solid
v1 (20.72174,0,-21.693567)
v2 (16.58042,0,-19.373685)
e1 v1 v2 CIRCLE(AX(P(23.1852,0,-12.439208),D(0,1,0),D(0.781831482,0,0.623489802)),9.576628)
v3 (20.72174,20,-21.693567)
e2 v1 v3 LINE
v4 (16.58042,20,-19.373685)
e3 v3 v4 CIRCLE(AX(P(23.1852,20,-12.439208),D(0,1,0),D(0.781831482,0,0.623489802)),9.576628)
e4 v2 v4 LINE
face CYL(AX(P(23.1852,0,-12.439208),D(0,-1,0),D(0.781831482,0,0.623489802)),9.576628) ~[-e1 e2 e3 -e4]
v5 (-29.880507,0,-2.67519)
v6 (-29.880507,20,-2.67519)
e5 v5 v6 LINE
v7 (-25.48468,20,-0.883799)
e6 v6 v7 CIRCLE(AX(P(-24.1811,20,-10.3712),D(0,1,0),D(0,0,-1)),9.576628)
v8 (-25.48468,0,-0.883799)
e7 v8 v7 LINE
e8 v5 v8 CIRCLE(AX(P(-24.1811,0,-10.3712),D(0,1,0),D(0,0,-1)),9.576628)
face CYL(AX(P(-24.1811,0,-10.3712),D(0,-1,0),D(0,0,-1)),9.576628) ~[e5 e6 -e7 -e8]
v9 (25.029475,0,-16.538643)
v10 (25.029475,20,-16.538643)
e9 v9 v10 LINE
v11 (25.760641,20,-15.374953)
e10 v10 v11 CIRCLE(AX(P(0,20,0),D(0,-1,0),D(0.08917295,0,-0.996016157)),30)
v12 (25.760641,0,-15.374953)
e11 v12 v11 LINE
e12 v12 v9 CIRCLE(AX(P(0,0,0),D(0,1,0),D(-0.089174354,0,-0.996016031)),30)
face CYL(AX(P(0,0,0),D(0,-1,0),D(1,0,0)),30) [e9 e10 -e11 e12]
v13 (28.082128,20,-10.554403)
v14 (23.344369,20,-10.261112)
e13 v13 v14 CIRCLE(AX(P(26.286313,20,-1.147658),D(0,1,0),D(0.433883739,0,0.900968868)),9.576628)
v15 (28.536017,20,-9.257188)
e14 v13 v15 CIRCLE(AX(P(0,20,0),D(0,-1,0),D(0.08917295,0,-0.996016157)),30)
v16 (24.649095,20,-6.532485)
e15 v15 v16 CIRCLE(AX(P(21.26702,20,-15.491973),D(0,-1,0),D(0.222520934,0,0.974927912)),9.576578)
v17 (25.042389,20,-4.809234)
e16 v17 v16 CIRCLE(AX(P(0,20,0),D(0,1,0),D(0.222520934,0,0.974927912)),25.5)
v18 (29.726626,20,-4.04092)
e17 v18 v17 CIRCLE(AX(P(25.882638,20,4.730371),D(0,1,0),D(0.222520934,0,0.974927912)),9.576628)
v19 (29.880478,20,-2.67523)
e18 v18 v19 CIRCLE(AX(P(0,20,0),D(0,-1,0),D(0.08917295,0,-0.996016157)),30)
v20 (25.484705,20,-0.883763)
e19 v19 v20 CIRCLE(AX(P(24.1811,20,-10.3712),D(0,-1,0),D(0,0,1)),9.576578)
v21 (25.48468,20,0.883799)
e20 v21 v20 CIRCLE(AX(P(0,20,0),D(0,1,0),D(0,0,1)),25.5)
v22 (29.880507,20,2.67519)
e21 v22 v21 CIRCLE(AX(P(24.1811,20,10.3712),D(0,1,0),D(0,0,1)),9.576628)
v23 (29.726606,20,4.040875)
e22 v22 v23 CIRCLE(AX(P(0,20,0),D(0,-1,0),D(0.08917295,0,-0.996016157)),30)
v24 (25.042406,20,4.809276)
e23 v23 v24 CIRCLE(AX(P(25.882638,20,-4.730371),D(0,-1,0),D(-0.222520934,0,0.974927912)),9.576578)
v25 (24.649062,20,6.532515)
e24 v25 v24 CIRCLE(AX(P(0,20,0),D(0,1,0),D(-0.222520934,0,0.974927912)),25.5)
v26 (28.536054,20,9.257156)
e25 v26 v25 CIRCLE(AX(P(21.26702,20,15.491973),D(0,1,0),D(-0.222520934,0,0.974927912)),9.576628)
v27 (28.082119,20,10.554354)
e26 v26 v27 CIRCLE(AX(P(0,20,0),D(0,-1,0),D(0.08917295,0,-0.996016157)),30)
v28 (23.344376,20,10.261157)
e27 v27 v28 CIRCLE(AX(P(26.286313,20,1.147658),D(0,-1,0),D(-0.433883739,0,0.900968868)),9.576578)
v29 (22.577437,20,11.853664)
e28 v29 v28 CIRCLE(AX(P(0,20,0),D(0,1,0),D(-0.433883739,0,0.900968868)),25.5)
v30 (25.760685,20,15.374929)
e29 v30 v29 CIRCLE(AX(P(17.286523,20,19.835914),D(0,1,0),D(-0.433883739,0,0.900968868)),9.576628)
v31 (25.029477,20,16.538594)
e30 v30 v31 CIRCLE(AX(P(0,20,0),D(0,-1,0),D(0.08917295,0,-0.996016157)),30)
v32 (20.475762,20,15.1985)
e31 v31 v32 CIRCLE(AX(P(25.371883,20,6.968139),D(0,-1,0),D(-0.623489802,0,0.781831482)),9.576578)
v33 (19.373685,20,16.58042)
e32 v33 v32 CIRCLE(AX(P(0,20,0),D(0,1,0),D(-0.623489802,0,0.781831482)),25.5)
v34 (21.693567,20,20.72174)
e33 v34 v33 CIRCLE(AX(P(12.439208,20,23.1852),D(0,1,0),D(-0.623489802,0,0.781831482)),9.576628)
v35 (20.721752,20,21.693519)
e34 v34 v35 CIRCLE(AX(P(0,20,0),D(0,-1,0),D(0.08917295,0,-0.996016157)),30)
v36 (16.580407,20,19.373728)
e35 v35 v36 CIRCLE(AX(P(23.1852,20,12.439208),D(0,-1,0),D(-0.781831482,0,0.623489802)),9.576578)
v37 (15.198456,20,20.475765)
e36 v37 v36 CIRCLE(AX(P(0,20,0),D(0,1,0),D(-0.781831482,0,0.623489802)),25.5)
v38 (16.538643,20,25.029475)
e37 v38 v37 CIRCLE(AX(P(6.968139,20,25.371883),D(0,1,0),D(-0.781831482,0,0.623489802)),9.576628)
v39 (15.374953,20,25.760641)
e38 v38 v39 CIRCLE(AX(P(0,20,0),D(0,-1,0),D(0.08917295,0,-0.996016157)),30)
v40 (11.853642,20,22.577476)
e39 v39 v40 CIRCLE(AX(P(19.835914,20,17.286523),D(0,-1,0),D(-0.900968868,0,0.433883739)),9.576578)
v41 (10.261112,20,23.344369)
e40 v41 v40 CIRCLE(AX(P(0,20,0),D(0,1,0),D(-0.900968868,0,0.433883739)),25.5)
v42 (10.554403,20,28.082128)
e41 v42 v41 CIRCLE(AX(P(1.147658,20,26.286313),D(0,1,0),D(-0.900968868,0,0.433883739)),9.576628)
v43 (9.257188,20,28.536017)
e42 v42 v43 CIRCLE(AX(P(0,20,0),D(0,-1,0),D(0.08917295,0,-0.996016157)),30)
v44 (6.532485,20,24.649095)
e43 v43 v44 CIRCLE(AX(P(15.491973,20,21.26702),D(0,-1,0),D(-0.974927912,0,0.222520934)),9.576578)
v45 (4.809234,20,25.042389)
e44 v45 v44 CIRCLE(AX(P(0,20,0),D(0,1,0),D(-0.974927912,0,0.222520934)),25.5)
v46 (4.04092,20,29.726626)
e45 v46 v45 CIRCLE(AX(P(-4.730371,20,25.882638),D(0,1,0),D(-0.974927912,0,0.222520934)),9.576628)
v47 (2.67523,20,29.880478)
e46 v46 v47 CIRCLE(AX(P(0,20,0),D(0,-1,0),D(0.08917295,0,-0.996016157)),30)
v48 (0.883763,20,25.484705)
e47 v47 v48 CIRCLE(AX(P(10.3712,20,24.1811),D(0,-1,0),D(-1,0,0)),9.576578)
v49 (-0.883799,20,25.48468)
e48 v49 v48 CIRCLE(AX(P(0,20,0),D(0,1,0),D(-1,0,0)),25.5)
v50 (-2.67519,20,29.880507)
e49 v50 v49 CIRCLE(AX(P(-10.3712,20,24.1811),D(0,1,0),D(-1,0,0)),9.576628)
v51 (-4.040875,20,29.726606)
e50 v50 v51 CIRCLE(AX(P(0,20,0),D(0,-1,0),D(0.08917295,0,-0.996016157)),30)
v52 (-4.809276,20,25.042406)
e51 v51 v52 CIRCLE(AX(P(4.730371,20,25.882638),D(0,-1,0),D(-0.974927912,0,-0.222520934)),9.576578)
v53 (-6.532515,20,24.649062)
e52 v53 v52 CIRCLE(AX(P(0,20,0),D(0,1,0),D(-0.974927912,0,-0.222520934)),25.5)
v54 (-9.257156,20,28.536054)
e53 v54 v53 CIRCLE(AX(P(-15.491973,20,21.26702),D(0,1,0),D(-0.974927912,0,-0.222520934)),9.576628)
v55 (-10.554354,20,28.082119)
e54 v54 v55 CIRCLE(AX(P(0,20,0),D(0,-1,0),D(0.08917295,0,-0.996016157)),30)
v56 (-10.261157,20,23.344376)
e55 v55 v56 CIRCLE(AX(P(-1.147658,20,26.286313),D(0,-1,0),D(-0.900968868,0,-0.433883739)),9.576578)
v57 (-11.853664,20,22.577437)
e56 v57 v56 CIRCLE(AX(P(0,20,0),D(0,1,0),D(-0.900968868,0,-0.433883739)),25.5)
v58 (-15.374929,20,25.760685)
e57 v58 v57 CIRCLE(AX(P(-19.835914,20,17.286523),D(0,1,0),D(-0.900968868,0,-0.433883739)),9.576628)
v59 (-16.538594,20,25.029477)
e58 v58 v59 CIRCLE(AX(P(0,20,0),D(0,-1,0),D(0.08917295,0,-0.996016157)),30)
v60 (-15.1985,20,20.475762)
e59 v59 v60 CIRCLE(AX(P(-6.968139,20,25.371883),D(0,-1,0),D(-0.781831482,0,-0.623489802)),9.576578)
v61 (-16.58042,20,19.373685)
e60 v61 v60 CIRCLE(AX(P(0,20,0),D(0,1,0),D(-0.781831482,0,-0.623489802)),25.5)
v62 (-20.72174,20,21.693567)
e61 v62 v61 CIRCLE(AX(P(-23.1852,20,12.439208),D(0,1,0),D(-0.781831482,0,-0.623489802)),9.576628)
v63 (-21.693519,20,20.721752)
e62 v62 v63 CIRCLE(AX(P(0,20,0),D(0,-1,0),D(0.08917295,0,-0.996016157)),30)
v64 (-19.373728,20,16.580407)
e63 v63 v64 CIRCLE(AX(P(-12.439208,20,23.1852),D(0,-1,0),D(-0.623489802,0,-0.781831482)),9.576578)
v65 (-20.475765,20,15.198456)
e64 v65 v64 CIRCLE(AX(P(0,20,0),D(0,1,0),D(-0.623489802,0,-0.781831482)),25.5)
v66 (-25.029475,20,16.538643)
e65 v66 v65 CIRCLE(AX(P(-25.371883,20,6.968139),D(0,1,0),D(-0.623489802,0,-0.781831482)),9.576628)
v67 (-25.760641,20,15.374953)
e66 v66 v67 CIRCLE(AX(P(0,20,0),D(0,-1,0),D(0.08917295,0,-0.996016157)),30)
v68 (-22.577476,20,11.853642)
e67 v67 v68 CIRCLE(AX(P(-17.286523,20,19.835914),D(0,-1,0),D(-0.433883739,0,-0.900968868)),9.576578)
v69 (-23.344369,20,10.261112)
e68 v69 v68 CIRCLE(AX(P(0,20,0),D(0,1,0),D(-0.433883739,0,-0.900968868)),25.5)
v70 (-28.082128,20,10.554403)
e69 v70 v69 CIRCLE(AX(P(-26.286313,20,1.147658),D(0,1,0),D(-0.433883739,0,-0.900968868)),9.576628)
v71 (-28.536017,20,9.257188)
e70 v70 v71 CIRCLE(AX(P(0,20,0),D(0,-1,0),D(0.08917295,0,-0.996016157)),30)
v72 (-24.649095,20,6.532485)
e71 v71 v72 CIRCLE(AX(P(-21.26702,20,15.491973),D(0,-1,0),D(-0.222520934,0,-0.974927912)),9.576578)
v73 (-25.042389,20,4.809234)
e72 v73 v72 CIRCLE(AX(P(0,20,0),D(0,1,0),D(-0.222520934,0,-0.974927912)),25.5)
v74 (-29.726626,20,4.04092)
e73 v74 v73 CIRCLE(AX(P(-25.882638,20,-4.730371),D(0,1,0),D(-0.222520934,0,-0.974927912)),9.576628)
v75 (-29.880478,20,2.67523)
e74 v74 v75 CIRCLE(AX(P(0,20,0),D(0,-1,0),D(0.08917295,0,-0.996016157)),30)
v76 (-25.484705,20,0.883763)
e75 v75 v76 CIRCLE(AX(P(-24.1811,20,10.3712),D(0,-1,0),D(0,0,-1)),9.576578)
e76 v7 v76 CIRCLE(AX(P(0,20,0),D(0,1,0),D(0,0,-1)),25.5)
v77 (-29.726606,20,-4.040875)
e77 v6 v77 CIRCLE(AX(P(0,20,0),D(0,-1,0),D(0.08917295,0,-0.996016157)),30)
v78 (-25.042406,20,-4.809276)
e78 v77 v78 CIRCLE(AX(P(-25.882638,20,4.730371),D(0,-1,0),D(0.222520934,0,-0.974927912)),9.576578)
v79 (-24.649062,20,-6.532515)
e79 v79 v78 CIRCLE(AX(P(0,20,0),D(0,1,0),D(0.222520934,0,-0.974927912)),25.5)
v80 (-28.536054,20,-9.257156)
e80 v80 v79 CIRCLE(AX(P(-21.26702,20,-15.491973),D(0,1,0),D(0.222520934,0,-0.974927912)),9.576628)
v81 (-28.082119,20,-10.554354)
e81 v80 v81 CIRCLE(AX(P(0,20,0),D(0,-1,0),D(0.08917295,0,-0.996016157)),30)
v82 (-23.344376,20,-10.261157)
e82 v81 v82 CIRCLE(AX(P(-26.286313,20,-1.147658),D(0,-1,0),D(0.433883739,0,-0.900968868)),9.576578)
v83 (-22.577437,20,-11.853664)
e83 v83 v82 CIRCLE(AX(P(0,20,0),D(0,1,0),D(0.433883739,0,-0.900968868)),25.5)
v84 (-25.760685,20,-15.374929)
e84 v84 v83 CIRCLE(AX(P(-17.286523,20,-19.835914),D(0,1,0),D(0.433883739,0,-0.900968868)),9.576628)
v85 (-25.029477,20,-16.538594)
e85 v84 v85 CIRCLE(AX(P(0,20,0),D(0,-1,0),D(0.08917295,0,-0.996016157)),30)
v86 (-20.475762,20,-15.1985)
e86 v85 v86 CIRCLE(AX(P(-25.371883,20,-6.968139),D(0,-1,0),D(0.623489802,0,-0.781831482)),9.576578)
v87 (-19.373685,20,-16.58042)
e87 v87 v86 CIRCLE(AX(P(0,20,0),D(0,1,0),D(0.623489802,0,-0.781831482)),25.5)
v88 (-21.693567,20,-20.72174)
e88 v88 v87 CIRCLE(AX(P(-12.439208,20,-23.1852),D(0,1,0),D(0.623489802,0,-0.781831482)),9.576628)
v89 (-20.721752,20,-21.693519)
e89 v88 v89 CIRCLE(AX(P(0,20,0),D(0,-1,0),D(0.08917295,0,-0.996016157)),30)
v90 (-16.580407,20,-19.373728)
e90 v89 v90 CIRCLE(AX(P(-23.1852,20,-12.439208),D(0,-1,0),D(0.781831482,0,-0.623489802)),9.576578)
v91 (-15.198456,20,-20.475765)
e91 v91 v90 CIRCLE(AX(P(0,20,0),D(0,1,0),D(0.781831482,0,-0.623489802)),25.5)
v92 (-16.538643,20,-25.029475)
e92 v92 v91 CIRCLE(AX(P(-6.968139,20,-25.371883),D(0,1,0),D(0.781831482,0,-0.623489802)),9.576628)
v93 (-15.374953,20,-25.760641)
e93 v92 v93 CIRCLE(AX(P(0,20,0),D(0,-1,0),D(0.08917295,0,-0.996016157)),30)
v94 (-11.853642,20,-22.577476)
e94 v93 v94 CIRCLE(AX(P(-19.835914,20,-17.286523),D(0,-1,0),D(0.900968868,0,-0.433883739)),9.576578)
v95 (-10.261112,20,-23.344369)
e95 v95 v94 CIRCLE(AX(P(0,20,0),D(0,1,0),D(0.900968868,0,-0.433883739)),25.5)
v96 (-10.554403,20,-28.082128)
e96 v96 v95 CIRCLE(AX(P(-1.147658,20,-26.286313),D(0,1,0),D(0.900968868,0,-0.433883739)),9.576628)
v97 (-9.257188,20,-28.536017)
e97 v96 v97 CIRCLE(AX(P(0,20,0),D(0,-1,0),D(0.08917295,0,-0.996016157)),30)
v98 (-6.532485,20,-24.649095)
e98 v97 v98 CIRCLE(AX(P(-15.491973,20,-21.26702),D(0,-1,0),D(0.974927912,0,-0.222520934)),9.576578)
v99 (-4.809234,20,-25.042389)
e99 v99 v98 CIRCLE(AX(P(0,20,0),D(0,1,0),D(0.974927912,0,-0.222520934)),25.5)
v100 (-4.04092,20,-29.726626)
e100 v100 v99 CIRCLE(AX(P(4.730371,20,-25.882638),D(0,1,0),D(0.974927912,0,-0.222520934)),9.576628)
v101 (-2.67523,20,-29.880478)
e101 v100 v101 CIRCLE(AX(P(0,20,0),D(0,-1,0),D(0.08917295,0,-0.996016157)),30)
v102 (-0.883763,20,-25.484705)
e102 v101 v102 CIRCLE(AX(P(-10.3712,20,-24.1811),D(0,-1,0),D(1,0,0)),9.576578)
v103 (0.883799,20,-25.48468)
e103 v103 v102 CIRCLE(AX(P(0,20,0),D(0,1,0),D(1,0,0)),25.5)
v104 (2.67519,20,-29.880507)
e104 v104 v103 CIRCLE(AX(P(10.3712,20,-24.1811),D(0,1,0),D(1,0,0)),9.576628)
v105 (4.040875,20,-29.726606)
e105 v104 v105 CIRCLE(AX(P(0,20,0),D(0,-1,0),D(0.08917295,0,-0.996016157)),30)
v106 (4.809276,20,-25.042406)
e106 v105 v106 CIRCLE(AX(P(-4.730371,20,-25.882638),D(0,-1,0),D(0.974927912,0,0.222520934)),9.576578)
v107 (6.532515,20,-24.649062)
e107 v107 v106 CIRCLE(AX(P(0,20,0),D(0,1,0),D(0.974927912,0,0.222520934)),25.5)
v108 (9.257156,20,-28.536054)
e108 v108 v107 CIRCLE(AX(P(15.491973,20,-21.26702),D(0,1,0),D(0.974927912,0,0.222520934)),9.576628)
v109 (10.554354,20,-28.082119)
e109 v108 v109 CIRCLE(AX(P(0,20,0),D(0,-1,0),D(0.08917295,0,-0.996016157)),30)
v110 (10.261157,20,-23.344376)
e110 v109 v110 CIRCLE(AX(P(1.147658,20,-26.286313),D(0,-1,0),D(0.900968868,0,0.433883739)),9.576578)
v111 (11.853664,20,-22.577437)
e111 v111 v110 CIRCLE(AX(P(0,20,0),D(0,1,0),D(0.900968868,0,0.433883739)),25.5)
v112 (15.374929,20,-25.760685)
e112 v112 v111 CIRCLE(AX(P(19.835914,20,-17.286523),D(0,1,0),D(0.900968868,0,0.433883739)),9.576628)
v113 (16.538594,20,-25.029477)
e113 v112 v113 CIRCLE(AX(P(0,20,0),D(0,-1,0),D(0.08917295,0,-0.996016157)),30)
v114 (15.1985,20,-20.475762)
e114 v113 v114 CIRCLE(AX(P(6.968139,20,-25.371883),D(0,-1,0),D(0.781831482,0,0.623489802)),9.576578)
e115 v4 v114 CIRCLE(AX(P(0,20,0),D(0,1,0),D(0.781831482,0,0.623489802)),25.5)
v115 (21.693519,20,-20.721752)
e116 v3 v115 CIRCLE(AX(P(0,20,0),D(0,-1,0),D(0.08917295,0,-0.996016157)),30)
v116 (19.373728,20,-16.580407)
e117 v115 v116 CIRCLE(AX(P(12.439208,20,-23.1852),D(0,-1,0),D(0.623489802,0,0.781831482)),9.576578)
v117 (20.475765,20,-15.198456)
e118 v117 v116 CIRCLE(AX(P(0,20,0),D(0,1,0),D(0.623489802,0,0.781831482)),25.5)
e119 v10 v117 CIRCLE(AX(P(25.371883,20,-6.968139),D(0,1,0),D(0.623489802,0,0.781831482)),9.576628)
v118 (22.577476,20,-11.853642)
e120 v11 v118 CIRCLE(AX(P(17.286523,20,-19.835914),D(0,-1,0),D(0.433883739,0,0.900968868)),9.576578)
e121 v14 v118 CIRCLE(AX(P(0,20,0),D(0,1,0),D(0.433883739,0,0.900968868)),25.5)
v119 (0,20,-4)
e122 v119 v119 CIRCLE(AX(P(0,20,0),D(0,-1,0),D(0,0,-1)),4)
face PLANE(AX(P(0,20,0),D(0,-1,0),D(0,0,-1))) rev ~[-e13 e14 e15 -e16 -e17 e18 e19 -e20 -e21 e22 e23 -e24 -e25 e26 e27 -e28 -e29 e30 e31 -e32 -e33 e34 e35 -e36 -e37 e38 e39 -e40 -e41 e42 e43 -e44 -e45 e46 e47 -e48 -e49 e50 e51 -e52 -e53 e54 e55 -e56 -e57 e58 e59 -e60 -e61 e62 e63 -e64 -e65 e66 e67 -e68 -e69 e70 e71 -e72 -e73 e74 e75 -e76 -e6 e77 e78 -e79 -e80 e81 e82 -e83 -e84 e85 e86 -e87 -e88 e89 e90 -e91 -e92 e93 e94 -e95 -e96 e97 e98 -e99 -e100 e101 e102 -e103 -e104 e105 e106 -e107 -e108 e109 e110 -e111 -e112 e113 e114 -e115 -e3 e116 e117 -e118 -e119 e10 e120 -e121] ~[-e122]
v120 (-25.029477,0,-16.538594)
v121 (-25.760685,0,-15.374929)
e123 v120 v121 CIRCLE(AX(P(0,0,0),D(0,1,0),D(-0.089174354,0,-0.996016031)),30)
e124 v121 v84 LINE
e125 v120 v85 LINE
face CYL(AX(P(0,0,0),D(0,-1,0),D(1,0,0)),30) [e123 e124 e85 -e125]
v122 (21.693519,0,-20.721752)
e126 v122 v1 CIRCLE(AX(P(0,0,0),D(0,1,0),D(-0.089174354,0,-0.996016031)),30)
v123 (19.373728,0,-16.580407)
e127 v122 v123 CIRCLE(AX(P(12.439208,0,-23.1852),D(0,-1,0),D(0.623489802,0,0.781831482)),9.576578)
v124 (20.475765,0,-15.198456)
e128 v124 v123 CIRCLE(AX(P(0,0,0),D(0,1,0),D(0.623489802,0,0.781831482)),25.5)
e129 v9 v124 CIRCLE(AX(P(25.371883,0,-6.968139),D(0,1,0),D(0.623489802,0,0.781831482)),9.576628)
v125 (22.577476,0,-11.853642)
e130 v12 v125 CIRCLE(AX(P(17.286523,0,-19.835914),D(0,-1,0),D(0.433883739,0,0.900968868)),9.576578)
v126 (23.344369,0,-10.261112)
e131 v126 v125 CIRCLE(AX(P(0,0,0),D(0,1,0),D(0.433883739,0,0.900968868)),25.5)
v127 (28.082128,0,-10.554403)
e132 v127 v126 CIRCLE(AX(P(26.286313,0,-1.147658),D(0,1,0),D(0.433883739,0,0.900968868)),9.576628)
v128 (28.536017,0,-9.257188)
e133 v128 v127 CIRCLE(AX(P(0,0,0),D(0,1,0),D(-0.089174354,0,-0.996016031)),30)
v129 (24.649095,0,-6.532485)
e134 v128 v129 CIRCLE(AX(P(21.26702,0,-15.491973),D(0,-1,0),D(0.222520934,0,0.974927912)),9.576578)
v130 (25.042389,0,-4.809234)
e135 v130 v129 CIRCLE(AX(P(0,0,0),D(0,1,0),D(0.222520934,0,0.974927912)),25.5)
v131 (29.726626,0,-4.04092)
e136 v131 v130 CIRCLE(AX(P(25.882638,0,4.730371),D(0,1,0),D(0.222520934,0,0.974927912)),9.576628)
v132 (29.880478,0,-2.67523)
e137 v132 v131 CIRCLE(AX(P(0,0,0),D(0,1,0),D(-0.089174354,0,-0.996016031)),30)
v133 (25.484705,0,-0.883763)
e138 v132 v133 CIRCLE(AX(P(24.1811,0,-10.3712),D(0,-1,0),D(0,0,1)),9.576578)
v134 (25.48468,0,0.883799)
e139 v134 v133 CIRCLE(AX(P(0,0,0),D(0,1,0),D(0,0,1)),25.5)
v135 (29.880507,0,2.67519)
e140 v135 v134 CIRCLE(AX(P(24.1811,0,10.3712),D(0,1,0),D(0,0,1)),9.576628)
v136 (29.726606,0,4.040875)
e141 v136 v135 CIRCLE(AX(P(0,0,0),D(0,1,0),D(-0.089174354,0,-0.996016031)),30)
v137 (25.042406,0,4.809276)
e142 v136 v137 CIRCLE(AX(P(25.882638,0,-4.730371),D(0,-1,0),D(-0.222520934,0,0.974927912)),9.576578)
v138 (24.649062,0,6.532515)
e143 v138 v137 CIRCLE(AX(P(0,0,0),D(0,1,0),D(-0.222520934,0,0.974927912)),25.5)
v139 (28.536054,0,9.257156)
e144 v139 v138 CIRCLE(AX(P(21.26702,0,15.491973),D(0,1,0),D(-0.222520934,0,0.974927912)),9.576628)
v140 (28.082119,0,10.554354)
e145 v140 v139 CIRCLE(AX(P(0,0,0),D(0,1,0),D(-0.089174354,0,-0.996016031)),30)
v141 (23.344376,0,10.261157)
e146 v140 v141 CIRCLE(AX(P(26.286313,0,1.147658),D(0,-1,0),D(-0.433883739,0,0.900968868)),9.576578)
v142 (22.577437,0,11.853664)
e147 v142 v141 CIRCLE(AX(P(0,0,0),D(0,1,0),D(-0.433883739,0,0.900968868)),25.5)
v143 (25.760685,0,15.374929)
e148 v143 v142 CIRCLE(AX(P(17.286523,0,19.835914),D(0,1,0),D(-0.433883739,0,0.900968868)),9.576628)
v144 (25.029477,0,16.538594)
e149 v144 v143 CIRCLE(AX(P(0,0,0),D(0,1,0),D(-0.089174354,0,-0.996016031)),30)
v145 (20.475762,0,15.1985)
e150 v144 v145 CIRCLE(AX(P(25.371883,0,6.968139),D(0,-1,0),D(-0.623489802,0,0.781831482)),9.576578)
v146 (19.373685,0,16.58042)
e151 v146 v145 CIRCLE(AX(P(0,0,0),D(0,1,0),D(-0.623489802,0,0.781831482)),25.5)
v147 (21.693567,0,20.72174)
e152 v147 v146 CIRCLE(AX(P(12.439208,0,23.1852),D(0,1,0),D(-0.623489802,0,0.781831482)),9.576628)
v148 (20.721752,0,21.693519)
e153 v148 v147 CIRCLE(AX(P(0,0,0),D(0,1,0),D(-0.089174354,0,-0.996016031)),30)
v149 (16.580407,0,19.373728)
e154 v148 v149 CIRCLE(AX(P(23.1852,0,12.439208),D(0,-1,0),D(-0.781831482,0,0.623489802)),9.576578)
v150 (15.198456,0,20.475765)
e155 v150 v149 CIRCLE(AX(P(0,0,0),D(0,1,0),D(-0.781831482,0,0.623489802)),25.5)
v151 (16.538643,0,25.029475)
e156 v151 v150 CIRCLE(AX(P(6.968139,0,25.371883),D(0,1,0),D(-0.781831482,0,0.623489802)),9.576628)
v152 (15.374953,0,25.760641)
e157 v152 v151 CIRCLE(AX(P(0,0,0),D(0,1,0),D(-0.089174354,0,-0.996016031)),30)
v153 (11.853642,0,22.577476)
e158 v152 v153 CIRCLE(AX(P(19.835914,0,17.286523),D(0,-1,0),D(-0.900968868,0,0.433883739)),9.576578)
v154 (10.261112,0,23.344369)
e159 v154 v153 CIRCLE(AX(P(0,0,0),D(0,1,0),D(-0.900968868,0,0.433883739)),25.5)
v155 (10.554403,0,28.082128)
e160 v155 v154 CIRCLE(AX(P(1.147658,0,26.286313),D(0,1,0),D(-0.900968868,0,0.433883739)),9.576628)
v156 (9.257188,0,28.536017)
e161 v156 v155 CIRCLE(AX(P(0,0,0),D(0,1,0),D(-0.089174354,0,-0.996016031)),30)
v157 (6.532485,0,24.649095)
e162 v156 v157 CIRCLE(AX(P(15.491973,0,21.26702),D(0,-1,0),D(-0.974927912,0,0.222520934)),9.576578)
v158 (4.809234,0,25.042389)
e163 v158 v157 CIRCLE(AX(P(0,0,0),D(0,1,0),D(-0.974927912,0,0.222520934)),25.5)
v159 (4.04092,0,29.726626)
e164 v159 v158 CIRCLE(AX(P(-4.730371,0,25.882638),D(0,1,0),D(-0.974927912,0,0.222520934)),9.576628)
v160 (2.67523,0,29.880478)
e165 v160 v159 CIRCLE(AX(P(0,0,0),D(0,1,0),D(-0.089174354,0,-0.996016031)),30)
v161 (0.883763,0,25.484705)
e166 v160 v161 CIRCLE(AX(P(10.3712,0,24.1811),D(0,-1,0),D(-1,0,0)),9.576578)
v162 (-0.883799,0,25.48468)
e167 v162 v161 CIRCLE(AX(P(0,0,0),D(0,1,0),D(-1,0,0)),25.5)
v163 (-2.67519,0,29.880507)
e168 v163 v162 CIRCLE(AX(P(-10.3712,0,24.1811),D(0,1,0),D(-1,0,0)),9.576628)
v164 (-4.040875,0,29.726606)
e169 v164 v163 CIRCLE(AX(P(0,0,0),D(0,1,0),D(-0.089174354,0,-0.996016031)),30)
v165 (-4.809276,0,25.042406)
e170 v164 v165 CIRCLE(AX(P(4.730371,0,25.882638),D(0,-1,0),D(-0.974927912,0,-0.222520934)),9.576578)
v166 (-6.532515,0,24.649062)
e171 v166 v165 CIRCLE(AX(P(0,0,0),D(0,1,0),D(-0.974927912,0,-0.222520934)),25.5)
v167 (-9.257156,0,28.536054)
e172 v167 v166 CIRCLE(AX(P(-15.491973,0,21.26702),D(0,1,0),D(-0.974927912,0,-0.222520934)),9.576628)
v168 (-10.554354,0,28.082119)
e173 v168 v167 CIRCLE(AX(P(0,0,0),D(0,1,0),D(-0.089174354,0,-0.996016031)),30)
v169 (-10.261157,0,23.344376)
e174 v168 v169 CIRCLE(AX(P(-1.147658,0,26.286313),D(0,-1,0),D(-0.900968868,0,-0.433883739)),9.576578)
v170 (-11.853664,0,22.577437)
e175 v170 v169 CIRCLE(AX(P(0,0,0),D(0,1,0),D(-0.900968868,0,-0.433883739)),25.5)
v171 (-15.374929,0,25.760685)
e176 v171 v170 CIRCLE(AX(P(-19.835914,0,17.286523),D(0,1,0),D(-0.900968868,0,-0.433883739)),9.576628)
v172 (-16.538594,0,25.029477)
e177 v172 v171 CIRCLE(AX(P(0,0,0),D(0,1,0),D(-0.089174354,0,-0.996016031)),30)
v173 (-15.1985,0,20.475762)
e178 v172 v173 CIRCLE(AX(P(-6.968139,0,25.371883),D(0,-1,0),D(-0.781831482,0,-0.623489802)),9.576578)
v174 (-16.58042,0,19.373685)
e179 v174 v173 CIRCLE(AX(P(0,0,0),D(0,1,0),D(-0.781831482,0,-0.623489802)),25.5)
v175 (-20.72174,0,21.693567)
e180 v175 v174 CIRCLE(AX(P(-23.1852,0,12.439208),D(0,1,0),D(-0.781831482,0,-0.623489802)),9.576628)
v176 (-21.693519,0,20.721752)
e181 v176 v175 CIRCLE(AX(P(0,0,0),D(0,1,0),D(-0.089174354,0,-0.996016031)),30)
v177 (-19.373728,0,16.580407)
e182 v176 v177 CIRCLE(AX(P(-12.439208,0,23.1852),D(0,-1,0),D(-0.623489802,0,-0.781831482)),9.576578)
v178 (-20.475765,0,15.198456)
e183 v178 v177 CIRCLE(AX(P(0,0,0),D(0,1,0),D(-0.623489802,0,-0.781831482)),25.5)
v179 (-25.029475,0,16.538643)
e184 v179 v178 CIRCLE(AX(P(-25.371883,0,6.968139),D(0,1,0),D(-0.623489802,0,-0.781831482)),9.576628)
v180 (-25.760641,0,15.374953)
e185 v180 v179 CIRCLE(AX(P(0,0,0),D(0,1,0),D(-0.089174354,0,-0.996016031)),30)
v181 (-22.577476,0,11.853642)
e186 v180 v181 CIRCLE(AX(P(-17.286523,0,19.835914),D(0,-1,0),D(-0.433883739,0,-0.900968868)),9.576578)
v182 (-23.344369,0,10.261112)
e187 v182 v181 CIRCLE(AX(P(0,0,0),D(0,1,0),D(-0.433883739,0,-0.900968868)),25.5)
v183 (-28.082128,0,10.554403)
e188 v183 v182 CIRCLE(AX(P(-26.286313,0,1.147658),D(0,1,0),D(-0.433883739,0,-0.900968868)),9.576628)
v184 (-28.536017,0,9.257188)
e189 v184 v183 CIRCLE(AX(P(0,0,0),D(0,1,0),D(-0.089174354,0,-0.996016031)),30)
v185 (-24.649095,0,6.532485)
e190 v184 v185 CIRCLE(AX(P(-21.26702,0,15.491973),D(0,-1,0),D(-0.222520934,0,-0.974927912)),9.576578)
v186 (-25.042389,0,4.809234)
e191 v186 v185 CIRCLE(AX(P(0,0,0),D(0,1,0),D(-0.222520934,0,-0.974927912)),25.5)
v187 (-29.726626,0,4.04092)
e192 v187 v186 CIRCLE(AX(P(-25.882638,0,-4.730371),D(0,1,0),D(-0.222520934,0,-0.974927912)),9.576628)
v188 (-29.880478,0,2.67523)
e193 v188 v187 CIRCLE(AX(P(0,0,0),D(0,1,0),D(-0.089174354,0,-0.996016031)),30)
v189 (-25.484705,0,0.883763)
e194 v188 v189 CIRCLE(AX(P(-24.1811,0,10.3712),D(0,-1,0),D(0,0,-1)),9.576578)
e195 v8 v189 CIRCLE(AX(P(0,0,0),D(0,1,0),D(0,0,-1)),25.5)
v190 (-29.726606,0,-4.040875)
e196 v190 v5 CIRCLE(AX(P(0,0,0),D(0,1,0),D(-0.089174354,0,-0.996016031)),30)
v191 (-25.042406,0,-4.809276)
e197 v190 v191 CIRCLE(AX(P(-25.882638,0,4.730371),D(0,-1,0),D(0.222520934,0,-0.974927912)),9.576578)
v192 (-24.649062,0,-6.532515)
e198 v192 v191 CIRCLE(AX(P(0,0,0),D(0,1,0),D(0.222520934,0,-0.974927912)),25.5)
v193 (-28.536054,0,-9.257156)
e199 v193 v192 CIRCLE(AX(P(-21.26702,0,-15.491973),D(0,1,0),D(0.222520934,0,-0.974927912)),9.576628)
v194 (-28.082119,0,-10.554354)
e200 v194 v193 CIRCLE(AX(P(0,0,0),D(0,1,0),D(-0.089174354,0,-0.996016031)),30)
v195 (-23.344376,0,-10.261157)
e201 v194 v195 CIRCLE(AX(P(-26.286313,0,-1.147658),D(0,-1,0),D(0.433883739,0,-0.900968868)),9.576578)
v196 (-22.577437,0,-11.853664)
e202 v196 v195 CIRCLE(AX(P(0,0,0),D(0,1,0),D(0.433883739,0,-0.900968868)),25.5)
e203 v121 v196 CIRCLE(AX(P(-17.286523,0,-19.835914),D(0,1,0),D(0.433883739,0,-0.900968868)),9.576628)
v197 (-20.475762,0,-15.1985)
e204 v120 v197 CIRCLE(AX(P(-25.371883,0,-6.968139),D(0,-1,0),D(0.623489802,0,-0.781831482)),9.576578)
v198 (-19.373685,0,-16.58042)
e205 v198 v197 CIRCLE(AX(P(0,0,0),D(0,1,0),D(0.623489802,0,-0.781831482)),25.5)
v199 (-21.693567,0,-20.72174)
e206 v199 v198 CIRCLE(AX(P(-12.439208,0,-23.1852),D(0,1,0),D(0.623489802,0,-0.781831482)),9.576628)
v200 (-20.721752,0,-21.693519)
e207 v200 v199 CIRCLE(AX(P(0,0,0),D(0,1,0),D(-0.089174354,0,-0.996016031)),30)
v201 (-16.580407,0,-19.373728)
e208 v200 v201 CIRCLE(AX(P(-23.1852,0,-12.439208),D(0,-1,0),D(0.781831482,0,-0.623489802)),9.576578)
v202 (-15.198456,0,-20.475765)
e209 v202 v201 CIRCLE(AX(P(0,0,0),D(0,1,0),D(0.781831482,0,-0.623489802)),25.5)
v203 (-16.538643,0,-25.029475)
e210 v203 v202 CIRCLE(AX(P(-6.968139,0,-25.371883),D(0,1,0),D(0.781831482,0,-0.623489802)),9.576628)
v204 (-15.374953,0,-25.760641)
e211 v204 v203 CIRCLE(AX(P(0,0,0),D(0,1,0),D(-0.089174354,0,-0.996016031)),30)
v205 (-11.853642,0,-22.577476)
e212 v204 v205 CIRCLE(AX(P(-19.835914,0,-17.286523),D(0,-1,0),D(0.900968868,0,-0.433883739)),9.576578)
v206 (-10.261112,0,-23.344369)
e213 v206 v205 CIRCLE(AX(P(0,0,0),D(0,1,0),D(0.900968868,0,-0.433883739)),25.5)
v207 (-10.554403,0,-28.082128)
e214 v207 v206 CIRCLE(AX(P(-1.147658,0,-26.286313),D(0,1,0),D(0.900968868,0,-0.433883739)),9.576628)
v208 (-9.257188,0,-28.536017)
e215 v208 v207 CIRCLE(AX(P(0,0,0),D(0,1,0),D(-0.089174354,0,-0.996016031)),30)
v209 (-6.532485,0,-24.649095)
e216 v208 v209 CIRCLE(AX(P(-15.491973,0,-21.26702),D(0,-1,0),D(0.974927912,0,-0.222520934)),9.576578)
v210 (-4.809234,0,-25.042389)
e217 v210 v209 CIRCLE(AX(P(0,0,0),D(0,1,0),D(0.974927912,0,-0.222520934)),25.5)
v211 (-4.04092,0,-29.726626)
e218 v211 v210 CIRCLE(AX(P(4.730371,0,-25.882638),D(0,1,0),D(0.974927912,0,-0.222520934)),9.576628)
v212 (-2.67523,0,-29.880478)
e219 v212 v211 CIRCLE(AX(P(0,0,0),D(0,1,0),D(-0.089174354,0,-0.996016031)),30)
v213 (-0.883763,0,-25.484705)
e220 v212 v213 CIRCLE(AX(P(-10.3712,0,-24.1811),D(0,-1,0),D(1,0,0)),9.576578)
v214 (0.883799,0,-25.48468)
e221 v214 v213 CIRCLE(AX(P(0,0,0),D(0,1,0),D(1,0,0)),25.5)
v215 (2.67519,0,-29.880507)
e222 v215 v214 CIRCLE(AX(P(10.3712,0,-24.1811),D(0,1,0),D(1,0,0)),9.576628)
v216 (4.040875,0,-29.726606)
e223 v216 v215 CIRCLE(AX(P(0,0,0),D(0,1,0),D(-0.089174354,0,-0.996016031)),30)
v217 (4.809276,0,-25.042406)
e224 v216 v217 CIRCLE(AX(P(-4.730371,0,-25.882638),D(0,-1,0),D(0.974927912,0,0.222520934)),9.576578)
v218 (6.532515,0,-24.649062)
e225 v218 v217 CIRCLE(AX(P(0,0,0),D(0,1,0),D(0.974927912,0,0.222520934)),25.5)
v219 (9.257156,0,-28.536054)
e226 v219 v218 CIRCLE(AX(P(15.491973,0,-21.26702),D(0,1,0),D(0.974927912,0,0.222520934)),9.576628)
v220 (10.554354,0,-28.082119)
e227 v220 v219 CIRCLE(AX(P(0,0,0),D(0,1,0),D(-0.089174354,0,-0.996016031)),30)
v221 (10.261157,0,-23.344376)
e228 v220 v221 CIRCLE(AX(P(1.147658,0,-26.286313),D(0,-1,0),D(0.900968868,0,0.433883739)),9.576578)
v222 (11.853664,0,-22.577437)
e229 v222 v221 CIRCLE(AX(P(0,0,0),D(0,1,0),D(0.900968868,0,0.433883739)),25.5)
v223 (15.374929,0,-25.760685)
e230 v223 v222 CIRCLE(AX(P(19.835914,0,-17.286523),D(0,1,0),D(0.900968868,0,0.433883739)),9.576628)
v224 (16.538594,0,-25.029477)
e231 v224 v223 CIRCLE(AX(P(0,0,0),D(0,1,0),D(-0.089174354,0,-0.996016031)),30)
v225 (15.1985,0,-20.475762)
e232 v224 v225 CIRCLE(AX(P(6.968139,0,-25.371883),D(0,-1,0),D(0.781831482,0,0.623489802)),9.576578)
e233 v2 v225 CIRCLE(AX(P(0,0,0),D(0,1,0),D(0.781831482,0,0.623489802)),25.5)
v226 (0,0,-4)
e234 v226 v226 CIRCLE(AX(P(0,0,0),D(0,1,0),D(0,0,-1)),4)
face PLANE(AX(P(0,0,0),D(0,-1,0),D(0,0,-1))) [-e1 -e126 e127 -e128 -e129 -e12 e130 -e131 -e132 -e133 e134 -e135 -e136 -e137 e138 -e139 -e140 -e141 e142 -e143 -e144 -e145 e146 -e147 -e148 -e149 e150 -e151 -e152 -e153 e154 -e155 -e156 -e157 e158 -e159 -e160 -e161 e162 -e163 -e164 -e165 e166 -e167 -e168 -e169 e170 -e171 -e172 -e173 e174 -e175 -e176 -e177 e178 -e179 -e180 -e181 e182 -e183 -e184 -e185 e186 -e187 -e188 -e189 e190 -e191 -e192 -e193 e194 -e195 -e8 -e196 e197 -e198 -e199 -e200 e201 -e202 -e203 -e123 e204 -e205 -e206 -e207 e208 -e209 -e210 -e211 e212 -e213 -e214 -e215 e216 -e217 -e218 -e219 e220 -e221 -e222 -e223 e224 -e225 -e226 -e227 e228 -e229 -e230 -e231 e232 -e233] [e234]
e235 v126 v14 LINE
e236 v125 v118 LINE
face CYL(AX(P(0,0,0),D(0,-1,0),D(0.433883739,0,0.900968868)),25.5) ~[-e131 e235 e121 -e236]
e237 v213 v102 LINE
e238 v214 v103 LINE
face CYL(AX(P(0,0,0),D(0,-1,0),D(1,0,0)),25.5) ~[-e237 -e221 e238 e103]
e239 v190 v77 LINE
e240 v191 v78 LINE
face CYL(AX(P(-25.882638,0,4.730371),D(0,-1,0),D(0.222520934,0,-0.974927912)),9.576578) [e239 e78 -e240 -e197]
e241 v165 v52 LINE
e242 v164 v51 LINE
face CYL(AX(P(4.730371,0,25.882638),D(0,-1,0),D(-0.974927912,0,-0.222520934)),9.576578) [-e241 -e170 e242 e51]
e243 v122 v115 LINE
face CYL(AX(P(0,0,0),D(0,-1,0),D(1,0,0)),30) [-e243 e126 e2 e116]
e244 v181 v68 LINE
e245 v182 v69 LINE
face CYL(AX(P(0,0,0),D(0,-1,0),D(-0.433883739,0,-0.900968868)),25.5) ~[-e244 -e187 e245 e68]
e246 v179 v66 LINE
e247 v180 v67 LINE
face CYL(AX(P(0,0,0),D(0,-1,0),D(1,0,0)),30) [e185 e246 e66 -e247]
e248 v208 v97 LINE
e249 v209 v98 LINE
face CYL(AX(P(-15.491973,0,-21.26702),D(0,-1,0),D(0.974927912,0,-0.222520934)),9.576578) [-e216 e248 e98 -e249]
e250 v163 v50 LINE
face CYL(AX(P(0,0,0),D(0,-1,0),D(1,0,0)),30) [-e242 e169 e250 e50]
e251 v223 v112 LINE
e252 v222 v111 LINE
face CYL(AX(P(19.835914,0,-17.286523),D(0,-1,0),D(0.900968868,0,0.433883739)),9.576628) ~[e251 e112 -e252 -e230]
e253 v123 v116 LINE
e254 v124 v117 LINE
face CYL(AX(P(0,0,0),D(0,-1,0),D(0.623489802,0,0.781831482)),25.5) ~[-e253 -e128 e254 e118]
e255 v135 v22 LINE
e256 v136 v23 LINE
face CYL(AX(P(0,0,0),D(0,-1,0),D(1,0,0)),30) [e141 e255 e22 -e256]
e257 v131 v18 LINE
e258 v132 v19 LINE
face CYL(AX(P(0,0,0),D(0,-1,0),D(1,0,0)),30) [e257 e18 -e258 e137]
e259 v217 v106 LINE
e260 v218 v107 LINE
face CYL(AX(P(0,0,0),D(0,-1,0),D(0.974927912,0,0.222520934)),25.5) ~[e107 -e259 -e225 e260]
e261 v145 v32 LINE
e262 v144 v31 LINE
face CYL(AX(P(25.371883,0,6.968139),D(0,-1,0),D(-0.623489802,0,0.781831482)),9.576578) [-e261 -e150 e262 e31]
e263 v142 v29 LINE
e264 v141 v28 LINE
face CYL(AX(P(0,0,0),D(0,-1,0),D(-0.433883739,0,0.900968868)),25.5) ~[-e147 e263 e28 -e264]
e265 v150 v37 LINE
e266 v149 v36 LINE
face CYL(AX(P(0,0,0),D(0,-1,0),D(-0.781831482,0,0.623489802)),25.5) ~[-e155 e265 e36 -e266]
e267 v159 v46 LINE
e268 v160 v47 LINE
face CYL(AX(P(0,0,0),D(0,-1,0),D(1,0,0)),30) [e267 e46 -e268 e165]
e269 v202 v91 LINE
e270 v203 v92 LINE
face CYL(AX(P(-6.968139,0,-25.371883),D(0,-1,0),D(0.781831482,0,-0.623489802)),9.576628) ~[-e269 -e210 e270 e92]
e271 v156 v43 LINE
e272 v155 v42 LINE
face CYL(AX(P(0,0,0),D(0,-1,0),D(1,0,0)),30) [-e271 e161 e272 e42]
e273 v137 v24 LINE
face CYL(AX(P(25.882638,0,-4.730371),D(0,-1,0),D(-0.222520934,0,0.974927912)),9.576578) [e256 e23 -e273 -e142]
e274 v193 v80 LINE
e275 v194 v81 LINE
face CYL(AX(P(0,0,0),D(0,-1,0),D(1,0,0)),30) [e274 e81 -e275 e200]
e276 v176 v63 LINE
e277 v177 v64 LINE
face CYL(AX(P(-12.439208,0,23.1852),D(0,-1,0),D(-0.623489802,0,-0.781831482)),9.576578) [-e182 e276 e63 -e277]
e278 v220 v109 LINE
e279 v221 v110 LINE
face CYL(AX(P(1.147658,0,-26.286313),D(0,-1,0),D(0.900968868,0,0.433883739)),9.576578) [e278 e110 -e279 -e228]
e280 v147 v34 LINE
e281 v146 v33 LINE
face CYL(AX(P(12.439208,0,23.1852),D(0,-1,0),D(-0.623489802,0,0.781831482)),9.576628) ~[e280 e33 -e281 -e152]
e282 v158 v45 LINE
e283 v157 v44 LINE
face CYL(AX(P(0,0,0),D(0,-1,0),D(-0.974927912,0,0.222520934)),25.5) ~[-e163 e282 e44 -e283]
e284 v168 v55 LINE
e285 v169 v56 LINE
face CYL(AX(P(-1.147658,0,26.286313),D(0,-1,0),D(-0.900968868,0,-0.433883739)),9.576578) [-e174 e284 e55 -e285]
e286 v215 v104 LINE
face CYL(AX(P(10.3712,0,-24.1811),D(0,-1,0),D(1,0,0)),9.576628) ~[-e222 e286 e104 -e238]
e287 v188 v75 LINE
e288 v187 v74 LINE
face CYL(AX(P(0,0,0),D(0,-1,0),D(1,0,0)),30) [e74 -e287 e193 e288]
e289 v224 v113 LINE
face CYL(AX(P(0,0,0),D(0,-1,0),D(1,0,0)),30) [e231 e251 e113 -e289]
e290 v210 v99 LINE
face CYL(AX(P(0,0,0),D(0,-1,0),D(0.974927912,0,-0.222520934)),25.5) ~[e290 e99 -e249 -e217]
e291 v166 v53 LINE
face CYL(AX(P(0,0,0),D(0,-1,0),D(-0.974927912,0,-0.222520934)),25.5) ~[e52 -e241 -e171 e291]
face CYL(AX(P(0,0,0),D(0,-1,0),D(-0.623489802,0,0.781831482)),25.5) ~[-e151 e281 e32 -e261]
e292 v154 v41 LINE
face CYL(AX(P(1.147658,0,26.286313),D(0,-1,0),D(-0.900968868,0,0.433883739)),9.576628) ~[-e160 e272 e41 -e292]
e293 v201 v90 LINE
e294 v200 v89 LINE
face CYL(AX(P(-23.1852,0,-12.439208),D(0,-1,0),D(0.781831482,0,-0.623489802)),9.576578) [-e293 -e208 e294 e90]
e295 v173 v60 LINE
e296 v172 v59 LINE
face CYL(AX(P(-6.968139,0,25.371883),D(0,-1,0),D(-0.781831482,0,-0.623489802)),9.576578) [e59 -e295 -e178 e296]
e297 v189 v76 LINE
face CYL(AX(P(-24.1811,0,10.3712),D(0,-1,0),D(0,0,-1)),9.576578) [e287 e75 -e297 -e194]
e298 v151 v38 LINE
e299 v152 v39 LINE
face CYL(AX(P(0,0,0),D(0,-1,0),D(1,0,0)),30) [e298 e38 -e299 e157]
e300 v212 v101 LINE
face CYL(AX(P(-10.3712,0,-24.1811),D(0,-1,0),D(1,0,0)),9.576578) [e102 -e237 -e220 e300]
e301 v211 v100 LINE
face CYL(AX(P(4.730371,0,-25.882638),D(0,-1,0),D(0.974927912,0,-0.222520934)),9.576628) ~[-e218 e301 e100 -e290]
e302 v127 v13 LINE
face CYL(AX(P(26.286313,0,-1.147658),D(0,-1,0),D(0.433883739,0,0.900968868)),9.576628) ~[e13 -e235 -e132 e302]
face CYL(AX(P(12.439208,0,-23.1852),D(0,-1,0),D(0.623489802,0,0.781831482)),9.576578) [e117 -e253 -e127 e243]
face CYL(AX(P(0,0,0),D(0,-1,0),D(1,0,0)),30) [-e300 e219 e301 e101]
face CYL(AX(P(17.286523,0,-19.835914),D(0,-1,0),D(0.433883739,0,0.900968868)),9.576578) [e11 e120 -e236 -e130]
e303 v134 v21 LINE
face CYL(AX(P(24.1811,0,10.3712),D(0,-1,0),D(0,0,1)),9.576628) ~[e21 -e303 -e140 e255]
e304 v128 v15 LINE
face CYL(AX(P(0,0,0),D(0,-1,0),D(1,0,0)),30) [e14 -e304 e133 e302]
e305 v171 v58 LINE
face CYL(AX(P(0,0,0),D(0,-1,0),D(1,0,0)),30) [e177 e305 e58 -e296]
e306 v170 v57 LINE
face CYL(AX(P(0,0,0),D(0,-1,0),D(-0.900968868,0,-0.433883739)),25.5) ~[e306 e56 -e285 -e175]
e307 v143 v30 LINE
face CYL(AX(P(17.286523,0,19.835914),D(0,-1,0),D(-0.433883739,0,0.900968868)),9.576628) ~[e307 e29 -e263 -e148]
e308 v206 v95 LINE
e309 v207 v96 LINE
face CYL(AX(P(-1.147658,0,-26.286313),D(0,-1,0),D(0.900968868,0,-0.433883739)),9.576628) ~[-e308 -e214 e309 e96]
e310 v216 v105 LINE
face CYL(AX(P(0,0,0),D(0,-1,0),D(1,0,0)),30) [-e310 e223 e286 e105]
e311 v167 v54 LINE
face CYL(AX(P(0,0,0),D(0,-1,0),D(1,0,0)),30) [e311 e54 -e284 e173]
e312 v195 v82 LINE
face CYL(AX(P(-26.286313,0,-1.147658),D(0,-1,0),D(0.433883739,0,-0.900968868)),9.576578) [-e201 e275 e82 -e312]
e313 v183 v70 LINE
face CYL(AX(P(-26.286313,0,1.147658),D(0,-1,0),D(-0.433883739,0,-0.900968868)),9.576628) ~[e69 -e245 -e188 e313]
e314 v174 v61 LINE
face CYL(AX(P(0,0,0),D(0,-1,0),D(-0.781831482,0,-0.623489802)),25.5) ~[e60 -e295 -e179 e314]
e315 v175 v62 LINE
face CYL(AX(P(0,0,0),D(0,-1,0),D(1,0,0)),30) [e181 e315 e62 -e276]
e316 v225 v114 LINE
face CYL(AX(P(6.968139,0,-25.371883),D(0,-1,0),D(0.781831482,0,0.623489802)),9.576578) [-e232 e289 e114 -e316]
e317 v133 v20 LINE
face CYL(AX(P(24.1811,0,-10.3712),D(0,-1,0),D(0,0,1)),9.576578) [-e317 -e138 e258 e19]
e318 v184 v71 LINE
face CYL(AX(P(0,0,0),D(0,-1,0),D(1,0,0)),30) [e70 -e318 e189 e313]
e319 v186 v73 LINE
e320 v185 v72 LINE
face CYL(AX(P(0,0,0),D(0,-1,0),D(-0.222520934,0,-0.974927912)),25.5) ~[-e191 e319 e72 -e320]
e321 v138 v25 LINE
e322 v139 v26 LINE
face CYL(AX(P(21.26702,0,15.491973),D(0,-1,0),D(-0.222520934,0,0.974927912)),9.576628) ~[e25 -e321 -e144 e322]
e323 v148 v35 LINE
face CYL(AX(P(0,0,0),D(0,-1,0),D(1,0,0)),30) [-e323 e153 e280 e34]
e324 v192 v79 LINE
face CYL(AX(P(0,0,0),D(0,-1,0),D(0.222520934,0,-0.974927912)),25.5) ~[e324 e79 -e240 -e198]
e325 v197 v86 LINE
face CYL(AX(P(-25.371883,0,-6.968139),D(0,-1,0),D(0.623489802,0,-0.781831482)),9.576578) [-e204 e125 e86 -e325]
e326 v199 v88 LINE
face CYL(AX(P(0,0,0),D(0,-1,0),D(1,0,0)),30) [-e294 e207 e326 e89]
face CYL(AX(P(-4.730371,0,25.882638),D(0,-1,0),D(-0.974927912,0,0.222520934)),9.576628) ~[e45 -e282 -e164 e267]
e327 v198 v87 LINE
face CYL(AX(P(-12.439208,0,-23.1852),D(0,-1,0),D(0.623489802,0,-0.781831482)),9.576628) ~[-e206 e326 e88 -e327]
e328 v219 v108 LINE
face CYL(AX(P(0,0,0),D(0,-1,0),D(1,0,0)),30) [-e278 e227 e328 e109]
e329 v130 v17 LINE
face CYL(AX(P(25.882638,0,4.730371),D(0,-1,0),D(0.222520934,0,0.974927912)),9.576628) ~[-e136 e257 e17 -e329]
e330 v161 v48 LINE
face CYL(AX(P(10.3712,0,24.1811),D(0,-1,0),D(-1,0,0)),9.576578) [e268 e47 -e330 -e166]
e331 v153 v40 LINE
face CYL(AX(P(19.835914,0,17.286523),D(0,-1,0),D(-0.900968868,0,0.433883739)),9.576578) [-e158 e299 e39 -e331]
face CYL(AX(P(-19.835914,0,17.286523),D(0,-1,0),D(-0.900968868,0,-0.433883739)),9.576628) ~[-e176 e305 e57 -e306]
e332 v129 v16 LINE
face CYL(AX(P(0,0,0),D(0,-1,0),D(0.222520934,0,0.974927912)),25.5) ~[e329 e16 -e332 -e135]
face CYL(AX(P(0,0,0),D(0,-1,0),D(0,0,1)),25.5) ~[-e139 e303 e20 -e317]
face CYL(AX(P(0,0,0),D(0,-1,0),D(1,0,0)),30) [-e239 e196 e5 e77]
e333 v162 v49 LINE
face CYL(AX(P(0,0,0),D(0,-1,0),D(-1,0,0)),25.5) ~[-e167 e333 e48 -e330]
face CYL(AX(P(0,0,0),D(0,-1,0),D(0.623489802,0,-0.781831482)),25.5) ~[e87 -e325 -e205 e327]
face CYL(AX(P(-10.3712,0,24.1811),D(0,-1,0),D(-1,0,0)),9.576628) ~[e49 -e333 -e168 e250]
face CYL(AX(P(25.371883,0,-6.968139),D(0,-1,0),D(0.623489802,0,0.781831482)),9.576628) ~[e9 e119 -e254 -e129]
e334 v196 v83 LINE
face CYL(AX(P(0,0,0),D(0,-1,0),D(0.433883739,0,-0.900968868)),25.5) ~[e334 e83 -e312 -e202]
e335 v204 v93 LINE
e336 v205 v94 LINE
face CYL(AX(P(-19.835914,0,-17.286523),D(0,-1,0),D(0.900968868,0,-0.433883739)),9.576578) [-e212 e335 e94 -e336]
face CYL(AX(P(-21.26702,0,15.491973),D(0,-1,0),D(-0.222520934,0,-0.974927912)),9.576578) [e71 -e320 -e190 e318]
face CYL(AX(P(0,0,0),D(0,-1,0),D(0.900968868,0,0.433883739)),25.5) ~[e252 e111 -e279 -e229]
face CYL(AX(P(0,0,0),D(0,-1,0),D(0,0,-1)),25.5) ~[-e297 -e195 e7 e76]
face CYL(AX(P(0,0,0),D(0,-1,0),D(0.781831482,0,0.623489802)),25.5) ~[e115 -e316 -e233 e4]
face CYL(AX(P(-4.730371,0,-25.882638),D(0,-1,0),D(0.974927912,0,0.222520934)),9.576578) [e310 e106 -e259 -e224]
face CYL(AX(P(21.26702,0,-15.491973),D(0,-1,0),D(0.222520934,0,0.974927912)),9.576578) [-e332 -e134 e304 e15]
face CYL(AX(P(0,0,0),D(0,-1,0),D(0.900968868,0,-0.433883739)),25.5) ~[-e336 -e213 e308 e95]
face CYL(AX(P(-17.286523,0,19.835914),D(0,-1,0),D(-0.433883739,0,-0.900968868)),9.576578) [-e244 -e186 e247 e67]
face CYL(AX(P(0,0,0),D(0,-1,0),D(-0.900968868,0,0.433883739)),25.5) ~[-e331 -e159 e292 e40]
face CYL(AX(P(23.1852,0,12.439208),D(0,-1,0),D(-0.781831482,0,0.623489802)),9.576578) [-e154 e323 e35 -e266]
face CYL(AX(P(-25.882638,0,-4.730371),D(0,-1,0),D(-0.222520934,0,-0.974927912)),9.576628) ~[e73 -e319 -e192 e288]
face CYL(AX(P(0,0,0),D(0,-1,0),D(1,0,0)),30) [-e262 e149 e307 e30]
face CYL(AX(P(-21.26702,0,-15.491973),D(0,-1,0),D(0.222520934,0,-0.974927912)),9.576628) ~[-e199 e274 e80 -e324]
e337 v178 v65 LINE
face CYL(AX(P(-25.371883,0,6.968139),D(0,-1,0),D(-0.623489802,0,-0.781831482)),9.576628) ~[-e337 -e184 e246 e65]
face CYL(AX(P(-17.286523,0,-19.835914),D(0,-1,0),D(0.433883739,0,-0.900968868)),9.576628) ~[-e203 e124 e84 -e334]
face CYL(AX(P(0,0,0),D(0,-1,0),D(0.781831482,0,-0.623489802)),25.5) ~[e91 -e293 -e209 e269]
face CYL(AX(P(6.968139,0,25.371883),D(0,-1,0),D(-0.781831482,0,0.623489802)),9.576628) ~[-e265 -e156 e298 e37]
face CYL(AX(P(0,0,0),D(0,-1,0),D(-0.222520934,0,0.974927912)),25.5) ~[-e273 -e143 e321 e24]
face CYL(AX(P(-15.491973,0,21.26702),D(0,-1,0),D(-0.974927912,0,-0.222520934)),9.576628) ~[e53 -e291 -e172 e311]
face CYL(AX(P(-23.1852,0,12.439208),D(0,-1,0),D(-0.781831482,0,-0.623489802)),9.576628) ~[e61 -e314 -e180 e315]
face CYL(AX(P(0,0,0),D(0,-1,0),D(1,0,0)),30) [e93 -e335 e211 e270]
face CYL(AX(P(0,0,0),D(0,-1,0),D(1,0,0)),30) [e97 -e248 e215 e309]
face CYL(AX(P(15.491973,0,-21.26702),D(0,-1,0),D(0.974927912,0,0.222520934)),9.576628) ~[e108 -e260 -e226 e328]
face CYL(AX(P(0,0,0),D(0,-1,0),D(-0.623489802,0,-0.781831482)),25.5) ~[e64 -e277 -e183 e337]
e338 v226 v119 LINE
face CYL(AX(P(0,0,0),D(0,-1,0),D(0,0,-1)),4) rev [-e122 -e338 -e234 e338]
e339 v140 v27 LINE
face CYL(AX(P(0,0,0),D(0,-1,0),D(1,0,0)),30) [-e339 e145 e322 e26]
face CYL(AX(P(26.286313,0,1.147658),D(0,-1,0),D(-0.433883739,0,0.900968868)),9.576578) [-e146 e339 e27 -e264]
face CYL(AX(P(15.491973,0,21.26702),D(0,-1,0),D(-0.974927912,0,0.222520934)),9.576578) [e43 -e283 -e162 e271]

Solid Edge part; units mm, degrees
sketch "Sketch1" plane through (0, 0, 0) normal (0, -1, 0) x (1, 0, 0)
  circle A0 centre (0, 0) radius 30
  dimension "D1" = 60
extrude "Protrusion1" add sketch "Sketch1" against normal blind 20
sketch "Sketch2" plane through (0, 0, 0) normal (0, -1, 0) x (1, 0, 0)
  arc A0 (-2.6752, -29.8805) -> (-0.8838, -25.4847) centre (-10.3712, -24.1811) ccw
  arc A1 (0.8838, -25.4847) -> (-0.8838, -25.4847) centre (0, 0) cw
  arc A2 (2.6752, -29.8805) -> (0.8837, -25.4847) centre (10.3712, -24.1811) cw
  arc A3 (2.6752, -29.8805) -> (-2.6752, -29.8805) centre (0, 0) cw
extrude "Cutout1" cut sketch "Sketch2" against normal blind 20
pattern_circular "Pattern1" count 28 over 360 about axis through (0, 0, 0) along (0, 1, 0) of "Cutout1"
hole "Hole1" at (0, 0, 0) direction (0, 1, 0) diameter 8 end up to next
